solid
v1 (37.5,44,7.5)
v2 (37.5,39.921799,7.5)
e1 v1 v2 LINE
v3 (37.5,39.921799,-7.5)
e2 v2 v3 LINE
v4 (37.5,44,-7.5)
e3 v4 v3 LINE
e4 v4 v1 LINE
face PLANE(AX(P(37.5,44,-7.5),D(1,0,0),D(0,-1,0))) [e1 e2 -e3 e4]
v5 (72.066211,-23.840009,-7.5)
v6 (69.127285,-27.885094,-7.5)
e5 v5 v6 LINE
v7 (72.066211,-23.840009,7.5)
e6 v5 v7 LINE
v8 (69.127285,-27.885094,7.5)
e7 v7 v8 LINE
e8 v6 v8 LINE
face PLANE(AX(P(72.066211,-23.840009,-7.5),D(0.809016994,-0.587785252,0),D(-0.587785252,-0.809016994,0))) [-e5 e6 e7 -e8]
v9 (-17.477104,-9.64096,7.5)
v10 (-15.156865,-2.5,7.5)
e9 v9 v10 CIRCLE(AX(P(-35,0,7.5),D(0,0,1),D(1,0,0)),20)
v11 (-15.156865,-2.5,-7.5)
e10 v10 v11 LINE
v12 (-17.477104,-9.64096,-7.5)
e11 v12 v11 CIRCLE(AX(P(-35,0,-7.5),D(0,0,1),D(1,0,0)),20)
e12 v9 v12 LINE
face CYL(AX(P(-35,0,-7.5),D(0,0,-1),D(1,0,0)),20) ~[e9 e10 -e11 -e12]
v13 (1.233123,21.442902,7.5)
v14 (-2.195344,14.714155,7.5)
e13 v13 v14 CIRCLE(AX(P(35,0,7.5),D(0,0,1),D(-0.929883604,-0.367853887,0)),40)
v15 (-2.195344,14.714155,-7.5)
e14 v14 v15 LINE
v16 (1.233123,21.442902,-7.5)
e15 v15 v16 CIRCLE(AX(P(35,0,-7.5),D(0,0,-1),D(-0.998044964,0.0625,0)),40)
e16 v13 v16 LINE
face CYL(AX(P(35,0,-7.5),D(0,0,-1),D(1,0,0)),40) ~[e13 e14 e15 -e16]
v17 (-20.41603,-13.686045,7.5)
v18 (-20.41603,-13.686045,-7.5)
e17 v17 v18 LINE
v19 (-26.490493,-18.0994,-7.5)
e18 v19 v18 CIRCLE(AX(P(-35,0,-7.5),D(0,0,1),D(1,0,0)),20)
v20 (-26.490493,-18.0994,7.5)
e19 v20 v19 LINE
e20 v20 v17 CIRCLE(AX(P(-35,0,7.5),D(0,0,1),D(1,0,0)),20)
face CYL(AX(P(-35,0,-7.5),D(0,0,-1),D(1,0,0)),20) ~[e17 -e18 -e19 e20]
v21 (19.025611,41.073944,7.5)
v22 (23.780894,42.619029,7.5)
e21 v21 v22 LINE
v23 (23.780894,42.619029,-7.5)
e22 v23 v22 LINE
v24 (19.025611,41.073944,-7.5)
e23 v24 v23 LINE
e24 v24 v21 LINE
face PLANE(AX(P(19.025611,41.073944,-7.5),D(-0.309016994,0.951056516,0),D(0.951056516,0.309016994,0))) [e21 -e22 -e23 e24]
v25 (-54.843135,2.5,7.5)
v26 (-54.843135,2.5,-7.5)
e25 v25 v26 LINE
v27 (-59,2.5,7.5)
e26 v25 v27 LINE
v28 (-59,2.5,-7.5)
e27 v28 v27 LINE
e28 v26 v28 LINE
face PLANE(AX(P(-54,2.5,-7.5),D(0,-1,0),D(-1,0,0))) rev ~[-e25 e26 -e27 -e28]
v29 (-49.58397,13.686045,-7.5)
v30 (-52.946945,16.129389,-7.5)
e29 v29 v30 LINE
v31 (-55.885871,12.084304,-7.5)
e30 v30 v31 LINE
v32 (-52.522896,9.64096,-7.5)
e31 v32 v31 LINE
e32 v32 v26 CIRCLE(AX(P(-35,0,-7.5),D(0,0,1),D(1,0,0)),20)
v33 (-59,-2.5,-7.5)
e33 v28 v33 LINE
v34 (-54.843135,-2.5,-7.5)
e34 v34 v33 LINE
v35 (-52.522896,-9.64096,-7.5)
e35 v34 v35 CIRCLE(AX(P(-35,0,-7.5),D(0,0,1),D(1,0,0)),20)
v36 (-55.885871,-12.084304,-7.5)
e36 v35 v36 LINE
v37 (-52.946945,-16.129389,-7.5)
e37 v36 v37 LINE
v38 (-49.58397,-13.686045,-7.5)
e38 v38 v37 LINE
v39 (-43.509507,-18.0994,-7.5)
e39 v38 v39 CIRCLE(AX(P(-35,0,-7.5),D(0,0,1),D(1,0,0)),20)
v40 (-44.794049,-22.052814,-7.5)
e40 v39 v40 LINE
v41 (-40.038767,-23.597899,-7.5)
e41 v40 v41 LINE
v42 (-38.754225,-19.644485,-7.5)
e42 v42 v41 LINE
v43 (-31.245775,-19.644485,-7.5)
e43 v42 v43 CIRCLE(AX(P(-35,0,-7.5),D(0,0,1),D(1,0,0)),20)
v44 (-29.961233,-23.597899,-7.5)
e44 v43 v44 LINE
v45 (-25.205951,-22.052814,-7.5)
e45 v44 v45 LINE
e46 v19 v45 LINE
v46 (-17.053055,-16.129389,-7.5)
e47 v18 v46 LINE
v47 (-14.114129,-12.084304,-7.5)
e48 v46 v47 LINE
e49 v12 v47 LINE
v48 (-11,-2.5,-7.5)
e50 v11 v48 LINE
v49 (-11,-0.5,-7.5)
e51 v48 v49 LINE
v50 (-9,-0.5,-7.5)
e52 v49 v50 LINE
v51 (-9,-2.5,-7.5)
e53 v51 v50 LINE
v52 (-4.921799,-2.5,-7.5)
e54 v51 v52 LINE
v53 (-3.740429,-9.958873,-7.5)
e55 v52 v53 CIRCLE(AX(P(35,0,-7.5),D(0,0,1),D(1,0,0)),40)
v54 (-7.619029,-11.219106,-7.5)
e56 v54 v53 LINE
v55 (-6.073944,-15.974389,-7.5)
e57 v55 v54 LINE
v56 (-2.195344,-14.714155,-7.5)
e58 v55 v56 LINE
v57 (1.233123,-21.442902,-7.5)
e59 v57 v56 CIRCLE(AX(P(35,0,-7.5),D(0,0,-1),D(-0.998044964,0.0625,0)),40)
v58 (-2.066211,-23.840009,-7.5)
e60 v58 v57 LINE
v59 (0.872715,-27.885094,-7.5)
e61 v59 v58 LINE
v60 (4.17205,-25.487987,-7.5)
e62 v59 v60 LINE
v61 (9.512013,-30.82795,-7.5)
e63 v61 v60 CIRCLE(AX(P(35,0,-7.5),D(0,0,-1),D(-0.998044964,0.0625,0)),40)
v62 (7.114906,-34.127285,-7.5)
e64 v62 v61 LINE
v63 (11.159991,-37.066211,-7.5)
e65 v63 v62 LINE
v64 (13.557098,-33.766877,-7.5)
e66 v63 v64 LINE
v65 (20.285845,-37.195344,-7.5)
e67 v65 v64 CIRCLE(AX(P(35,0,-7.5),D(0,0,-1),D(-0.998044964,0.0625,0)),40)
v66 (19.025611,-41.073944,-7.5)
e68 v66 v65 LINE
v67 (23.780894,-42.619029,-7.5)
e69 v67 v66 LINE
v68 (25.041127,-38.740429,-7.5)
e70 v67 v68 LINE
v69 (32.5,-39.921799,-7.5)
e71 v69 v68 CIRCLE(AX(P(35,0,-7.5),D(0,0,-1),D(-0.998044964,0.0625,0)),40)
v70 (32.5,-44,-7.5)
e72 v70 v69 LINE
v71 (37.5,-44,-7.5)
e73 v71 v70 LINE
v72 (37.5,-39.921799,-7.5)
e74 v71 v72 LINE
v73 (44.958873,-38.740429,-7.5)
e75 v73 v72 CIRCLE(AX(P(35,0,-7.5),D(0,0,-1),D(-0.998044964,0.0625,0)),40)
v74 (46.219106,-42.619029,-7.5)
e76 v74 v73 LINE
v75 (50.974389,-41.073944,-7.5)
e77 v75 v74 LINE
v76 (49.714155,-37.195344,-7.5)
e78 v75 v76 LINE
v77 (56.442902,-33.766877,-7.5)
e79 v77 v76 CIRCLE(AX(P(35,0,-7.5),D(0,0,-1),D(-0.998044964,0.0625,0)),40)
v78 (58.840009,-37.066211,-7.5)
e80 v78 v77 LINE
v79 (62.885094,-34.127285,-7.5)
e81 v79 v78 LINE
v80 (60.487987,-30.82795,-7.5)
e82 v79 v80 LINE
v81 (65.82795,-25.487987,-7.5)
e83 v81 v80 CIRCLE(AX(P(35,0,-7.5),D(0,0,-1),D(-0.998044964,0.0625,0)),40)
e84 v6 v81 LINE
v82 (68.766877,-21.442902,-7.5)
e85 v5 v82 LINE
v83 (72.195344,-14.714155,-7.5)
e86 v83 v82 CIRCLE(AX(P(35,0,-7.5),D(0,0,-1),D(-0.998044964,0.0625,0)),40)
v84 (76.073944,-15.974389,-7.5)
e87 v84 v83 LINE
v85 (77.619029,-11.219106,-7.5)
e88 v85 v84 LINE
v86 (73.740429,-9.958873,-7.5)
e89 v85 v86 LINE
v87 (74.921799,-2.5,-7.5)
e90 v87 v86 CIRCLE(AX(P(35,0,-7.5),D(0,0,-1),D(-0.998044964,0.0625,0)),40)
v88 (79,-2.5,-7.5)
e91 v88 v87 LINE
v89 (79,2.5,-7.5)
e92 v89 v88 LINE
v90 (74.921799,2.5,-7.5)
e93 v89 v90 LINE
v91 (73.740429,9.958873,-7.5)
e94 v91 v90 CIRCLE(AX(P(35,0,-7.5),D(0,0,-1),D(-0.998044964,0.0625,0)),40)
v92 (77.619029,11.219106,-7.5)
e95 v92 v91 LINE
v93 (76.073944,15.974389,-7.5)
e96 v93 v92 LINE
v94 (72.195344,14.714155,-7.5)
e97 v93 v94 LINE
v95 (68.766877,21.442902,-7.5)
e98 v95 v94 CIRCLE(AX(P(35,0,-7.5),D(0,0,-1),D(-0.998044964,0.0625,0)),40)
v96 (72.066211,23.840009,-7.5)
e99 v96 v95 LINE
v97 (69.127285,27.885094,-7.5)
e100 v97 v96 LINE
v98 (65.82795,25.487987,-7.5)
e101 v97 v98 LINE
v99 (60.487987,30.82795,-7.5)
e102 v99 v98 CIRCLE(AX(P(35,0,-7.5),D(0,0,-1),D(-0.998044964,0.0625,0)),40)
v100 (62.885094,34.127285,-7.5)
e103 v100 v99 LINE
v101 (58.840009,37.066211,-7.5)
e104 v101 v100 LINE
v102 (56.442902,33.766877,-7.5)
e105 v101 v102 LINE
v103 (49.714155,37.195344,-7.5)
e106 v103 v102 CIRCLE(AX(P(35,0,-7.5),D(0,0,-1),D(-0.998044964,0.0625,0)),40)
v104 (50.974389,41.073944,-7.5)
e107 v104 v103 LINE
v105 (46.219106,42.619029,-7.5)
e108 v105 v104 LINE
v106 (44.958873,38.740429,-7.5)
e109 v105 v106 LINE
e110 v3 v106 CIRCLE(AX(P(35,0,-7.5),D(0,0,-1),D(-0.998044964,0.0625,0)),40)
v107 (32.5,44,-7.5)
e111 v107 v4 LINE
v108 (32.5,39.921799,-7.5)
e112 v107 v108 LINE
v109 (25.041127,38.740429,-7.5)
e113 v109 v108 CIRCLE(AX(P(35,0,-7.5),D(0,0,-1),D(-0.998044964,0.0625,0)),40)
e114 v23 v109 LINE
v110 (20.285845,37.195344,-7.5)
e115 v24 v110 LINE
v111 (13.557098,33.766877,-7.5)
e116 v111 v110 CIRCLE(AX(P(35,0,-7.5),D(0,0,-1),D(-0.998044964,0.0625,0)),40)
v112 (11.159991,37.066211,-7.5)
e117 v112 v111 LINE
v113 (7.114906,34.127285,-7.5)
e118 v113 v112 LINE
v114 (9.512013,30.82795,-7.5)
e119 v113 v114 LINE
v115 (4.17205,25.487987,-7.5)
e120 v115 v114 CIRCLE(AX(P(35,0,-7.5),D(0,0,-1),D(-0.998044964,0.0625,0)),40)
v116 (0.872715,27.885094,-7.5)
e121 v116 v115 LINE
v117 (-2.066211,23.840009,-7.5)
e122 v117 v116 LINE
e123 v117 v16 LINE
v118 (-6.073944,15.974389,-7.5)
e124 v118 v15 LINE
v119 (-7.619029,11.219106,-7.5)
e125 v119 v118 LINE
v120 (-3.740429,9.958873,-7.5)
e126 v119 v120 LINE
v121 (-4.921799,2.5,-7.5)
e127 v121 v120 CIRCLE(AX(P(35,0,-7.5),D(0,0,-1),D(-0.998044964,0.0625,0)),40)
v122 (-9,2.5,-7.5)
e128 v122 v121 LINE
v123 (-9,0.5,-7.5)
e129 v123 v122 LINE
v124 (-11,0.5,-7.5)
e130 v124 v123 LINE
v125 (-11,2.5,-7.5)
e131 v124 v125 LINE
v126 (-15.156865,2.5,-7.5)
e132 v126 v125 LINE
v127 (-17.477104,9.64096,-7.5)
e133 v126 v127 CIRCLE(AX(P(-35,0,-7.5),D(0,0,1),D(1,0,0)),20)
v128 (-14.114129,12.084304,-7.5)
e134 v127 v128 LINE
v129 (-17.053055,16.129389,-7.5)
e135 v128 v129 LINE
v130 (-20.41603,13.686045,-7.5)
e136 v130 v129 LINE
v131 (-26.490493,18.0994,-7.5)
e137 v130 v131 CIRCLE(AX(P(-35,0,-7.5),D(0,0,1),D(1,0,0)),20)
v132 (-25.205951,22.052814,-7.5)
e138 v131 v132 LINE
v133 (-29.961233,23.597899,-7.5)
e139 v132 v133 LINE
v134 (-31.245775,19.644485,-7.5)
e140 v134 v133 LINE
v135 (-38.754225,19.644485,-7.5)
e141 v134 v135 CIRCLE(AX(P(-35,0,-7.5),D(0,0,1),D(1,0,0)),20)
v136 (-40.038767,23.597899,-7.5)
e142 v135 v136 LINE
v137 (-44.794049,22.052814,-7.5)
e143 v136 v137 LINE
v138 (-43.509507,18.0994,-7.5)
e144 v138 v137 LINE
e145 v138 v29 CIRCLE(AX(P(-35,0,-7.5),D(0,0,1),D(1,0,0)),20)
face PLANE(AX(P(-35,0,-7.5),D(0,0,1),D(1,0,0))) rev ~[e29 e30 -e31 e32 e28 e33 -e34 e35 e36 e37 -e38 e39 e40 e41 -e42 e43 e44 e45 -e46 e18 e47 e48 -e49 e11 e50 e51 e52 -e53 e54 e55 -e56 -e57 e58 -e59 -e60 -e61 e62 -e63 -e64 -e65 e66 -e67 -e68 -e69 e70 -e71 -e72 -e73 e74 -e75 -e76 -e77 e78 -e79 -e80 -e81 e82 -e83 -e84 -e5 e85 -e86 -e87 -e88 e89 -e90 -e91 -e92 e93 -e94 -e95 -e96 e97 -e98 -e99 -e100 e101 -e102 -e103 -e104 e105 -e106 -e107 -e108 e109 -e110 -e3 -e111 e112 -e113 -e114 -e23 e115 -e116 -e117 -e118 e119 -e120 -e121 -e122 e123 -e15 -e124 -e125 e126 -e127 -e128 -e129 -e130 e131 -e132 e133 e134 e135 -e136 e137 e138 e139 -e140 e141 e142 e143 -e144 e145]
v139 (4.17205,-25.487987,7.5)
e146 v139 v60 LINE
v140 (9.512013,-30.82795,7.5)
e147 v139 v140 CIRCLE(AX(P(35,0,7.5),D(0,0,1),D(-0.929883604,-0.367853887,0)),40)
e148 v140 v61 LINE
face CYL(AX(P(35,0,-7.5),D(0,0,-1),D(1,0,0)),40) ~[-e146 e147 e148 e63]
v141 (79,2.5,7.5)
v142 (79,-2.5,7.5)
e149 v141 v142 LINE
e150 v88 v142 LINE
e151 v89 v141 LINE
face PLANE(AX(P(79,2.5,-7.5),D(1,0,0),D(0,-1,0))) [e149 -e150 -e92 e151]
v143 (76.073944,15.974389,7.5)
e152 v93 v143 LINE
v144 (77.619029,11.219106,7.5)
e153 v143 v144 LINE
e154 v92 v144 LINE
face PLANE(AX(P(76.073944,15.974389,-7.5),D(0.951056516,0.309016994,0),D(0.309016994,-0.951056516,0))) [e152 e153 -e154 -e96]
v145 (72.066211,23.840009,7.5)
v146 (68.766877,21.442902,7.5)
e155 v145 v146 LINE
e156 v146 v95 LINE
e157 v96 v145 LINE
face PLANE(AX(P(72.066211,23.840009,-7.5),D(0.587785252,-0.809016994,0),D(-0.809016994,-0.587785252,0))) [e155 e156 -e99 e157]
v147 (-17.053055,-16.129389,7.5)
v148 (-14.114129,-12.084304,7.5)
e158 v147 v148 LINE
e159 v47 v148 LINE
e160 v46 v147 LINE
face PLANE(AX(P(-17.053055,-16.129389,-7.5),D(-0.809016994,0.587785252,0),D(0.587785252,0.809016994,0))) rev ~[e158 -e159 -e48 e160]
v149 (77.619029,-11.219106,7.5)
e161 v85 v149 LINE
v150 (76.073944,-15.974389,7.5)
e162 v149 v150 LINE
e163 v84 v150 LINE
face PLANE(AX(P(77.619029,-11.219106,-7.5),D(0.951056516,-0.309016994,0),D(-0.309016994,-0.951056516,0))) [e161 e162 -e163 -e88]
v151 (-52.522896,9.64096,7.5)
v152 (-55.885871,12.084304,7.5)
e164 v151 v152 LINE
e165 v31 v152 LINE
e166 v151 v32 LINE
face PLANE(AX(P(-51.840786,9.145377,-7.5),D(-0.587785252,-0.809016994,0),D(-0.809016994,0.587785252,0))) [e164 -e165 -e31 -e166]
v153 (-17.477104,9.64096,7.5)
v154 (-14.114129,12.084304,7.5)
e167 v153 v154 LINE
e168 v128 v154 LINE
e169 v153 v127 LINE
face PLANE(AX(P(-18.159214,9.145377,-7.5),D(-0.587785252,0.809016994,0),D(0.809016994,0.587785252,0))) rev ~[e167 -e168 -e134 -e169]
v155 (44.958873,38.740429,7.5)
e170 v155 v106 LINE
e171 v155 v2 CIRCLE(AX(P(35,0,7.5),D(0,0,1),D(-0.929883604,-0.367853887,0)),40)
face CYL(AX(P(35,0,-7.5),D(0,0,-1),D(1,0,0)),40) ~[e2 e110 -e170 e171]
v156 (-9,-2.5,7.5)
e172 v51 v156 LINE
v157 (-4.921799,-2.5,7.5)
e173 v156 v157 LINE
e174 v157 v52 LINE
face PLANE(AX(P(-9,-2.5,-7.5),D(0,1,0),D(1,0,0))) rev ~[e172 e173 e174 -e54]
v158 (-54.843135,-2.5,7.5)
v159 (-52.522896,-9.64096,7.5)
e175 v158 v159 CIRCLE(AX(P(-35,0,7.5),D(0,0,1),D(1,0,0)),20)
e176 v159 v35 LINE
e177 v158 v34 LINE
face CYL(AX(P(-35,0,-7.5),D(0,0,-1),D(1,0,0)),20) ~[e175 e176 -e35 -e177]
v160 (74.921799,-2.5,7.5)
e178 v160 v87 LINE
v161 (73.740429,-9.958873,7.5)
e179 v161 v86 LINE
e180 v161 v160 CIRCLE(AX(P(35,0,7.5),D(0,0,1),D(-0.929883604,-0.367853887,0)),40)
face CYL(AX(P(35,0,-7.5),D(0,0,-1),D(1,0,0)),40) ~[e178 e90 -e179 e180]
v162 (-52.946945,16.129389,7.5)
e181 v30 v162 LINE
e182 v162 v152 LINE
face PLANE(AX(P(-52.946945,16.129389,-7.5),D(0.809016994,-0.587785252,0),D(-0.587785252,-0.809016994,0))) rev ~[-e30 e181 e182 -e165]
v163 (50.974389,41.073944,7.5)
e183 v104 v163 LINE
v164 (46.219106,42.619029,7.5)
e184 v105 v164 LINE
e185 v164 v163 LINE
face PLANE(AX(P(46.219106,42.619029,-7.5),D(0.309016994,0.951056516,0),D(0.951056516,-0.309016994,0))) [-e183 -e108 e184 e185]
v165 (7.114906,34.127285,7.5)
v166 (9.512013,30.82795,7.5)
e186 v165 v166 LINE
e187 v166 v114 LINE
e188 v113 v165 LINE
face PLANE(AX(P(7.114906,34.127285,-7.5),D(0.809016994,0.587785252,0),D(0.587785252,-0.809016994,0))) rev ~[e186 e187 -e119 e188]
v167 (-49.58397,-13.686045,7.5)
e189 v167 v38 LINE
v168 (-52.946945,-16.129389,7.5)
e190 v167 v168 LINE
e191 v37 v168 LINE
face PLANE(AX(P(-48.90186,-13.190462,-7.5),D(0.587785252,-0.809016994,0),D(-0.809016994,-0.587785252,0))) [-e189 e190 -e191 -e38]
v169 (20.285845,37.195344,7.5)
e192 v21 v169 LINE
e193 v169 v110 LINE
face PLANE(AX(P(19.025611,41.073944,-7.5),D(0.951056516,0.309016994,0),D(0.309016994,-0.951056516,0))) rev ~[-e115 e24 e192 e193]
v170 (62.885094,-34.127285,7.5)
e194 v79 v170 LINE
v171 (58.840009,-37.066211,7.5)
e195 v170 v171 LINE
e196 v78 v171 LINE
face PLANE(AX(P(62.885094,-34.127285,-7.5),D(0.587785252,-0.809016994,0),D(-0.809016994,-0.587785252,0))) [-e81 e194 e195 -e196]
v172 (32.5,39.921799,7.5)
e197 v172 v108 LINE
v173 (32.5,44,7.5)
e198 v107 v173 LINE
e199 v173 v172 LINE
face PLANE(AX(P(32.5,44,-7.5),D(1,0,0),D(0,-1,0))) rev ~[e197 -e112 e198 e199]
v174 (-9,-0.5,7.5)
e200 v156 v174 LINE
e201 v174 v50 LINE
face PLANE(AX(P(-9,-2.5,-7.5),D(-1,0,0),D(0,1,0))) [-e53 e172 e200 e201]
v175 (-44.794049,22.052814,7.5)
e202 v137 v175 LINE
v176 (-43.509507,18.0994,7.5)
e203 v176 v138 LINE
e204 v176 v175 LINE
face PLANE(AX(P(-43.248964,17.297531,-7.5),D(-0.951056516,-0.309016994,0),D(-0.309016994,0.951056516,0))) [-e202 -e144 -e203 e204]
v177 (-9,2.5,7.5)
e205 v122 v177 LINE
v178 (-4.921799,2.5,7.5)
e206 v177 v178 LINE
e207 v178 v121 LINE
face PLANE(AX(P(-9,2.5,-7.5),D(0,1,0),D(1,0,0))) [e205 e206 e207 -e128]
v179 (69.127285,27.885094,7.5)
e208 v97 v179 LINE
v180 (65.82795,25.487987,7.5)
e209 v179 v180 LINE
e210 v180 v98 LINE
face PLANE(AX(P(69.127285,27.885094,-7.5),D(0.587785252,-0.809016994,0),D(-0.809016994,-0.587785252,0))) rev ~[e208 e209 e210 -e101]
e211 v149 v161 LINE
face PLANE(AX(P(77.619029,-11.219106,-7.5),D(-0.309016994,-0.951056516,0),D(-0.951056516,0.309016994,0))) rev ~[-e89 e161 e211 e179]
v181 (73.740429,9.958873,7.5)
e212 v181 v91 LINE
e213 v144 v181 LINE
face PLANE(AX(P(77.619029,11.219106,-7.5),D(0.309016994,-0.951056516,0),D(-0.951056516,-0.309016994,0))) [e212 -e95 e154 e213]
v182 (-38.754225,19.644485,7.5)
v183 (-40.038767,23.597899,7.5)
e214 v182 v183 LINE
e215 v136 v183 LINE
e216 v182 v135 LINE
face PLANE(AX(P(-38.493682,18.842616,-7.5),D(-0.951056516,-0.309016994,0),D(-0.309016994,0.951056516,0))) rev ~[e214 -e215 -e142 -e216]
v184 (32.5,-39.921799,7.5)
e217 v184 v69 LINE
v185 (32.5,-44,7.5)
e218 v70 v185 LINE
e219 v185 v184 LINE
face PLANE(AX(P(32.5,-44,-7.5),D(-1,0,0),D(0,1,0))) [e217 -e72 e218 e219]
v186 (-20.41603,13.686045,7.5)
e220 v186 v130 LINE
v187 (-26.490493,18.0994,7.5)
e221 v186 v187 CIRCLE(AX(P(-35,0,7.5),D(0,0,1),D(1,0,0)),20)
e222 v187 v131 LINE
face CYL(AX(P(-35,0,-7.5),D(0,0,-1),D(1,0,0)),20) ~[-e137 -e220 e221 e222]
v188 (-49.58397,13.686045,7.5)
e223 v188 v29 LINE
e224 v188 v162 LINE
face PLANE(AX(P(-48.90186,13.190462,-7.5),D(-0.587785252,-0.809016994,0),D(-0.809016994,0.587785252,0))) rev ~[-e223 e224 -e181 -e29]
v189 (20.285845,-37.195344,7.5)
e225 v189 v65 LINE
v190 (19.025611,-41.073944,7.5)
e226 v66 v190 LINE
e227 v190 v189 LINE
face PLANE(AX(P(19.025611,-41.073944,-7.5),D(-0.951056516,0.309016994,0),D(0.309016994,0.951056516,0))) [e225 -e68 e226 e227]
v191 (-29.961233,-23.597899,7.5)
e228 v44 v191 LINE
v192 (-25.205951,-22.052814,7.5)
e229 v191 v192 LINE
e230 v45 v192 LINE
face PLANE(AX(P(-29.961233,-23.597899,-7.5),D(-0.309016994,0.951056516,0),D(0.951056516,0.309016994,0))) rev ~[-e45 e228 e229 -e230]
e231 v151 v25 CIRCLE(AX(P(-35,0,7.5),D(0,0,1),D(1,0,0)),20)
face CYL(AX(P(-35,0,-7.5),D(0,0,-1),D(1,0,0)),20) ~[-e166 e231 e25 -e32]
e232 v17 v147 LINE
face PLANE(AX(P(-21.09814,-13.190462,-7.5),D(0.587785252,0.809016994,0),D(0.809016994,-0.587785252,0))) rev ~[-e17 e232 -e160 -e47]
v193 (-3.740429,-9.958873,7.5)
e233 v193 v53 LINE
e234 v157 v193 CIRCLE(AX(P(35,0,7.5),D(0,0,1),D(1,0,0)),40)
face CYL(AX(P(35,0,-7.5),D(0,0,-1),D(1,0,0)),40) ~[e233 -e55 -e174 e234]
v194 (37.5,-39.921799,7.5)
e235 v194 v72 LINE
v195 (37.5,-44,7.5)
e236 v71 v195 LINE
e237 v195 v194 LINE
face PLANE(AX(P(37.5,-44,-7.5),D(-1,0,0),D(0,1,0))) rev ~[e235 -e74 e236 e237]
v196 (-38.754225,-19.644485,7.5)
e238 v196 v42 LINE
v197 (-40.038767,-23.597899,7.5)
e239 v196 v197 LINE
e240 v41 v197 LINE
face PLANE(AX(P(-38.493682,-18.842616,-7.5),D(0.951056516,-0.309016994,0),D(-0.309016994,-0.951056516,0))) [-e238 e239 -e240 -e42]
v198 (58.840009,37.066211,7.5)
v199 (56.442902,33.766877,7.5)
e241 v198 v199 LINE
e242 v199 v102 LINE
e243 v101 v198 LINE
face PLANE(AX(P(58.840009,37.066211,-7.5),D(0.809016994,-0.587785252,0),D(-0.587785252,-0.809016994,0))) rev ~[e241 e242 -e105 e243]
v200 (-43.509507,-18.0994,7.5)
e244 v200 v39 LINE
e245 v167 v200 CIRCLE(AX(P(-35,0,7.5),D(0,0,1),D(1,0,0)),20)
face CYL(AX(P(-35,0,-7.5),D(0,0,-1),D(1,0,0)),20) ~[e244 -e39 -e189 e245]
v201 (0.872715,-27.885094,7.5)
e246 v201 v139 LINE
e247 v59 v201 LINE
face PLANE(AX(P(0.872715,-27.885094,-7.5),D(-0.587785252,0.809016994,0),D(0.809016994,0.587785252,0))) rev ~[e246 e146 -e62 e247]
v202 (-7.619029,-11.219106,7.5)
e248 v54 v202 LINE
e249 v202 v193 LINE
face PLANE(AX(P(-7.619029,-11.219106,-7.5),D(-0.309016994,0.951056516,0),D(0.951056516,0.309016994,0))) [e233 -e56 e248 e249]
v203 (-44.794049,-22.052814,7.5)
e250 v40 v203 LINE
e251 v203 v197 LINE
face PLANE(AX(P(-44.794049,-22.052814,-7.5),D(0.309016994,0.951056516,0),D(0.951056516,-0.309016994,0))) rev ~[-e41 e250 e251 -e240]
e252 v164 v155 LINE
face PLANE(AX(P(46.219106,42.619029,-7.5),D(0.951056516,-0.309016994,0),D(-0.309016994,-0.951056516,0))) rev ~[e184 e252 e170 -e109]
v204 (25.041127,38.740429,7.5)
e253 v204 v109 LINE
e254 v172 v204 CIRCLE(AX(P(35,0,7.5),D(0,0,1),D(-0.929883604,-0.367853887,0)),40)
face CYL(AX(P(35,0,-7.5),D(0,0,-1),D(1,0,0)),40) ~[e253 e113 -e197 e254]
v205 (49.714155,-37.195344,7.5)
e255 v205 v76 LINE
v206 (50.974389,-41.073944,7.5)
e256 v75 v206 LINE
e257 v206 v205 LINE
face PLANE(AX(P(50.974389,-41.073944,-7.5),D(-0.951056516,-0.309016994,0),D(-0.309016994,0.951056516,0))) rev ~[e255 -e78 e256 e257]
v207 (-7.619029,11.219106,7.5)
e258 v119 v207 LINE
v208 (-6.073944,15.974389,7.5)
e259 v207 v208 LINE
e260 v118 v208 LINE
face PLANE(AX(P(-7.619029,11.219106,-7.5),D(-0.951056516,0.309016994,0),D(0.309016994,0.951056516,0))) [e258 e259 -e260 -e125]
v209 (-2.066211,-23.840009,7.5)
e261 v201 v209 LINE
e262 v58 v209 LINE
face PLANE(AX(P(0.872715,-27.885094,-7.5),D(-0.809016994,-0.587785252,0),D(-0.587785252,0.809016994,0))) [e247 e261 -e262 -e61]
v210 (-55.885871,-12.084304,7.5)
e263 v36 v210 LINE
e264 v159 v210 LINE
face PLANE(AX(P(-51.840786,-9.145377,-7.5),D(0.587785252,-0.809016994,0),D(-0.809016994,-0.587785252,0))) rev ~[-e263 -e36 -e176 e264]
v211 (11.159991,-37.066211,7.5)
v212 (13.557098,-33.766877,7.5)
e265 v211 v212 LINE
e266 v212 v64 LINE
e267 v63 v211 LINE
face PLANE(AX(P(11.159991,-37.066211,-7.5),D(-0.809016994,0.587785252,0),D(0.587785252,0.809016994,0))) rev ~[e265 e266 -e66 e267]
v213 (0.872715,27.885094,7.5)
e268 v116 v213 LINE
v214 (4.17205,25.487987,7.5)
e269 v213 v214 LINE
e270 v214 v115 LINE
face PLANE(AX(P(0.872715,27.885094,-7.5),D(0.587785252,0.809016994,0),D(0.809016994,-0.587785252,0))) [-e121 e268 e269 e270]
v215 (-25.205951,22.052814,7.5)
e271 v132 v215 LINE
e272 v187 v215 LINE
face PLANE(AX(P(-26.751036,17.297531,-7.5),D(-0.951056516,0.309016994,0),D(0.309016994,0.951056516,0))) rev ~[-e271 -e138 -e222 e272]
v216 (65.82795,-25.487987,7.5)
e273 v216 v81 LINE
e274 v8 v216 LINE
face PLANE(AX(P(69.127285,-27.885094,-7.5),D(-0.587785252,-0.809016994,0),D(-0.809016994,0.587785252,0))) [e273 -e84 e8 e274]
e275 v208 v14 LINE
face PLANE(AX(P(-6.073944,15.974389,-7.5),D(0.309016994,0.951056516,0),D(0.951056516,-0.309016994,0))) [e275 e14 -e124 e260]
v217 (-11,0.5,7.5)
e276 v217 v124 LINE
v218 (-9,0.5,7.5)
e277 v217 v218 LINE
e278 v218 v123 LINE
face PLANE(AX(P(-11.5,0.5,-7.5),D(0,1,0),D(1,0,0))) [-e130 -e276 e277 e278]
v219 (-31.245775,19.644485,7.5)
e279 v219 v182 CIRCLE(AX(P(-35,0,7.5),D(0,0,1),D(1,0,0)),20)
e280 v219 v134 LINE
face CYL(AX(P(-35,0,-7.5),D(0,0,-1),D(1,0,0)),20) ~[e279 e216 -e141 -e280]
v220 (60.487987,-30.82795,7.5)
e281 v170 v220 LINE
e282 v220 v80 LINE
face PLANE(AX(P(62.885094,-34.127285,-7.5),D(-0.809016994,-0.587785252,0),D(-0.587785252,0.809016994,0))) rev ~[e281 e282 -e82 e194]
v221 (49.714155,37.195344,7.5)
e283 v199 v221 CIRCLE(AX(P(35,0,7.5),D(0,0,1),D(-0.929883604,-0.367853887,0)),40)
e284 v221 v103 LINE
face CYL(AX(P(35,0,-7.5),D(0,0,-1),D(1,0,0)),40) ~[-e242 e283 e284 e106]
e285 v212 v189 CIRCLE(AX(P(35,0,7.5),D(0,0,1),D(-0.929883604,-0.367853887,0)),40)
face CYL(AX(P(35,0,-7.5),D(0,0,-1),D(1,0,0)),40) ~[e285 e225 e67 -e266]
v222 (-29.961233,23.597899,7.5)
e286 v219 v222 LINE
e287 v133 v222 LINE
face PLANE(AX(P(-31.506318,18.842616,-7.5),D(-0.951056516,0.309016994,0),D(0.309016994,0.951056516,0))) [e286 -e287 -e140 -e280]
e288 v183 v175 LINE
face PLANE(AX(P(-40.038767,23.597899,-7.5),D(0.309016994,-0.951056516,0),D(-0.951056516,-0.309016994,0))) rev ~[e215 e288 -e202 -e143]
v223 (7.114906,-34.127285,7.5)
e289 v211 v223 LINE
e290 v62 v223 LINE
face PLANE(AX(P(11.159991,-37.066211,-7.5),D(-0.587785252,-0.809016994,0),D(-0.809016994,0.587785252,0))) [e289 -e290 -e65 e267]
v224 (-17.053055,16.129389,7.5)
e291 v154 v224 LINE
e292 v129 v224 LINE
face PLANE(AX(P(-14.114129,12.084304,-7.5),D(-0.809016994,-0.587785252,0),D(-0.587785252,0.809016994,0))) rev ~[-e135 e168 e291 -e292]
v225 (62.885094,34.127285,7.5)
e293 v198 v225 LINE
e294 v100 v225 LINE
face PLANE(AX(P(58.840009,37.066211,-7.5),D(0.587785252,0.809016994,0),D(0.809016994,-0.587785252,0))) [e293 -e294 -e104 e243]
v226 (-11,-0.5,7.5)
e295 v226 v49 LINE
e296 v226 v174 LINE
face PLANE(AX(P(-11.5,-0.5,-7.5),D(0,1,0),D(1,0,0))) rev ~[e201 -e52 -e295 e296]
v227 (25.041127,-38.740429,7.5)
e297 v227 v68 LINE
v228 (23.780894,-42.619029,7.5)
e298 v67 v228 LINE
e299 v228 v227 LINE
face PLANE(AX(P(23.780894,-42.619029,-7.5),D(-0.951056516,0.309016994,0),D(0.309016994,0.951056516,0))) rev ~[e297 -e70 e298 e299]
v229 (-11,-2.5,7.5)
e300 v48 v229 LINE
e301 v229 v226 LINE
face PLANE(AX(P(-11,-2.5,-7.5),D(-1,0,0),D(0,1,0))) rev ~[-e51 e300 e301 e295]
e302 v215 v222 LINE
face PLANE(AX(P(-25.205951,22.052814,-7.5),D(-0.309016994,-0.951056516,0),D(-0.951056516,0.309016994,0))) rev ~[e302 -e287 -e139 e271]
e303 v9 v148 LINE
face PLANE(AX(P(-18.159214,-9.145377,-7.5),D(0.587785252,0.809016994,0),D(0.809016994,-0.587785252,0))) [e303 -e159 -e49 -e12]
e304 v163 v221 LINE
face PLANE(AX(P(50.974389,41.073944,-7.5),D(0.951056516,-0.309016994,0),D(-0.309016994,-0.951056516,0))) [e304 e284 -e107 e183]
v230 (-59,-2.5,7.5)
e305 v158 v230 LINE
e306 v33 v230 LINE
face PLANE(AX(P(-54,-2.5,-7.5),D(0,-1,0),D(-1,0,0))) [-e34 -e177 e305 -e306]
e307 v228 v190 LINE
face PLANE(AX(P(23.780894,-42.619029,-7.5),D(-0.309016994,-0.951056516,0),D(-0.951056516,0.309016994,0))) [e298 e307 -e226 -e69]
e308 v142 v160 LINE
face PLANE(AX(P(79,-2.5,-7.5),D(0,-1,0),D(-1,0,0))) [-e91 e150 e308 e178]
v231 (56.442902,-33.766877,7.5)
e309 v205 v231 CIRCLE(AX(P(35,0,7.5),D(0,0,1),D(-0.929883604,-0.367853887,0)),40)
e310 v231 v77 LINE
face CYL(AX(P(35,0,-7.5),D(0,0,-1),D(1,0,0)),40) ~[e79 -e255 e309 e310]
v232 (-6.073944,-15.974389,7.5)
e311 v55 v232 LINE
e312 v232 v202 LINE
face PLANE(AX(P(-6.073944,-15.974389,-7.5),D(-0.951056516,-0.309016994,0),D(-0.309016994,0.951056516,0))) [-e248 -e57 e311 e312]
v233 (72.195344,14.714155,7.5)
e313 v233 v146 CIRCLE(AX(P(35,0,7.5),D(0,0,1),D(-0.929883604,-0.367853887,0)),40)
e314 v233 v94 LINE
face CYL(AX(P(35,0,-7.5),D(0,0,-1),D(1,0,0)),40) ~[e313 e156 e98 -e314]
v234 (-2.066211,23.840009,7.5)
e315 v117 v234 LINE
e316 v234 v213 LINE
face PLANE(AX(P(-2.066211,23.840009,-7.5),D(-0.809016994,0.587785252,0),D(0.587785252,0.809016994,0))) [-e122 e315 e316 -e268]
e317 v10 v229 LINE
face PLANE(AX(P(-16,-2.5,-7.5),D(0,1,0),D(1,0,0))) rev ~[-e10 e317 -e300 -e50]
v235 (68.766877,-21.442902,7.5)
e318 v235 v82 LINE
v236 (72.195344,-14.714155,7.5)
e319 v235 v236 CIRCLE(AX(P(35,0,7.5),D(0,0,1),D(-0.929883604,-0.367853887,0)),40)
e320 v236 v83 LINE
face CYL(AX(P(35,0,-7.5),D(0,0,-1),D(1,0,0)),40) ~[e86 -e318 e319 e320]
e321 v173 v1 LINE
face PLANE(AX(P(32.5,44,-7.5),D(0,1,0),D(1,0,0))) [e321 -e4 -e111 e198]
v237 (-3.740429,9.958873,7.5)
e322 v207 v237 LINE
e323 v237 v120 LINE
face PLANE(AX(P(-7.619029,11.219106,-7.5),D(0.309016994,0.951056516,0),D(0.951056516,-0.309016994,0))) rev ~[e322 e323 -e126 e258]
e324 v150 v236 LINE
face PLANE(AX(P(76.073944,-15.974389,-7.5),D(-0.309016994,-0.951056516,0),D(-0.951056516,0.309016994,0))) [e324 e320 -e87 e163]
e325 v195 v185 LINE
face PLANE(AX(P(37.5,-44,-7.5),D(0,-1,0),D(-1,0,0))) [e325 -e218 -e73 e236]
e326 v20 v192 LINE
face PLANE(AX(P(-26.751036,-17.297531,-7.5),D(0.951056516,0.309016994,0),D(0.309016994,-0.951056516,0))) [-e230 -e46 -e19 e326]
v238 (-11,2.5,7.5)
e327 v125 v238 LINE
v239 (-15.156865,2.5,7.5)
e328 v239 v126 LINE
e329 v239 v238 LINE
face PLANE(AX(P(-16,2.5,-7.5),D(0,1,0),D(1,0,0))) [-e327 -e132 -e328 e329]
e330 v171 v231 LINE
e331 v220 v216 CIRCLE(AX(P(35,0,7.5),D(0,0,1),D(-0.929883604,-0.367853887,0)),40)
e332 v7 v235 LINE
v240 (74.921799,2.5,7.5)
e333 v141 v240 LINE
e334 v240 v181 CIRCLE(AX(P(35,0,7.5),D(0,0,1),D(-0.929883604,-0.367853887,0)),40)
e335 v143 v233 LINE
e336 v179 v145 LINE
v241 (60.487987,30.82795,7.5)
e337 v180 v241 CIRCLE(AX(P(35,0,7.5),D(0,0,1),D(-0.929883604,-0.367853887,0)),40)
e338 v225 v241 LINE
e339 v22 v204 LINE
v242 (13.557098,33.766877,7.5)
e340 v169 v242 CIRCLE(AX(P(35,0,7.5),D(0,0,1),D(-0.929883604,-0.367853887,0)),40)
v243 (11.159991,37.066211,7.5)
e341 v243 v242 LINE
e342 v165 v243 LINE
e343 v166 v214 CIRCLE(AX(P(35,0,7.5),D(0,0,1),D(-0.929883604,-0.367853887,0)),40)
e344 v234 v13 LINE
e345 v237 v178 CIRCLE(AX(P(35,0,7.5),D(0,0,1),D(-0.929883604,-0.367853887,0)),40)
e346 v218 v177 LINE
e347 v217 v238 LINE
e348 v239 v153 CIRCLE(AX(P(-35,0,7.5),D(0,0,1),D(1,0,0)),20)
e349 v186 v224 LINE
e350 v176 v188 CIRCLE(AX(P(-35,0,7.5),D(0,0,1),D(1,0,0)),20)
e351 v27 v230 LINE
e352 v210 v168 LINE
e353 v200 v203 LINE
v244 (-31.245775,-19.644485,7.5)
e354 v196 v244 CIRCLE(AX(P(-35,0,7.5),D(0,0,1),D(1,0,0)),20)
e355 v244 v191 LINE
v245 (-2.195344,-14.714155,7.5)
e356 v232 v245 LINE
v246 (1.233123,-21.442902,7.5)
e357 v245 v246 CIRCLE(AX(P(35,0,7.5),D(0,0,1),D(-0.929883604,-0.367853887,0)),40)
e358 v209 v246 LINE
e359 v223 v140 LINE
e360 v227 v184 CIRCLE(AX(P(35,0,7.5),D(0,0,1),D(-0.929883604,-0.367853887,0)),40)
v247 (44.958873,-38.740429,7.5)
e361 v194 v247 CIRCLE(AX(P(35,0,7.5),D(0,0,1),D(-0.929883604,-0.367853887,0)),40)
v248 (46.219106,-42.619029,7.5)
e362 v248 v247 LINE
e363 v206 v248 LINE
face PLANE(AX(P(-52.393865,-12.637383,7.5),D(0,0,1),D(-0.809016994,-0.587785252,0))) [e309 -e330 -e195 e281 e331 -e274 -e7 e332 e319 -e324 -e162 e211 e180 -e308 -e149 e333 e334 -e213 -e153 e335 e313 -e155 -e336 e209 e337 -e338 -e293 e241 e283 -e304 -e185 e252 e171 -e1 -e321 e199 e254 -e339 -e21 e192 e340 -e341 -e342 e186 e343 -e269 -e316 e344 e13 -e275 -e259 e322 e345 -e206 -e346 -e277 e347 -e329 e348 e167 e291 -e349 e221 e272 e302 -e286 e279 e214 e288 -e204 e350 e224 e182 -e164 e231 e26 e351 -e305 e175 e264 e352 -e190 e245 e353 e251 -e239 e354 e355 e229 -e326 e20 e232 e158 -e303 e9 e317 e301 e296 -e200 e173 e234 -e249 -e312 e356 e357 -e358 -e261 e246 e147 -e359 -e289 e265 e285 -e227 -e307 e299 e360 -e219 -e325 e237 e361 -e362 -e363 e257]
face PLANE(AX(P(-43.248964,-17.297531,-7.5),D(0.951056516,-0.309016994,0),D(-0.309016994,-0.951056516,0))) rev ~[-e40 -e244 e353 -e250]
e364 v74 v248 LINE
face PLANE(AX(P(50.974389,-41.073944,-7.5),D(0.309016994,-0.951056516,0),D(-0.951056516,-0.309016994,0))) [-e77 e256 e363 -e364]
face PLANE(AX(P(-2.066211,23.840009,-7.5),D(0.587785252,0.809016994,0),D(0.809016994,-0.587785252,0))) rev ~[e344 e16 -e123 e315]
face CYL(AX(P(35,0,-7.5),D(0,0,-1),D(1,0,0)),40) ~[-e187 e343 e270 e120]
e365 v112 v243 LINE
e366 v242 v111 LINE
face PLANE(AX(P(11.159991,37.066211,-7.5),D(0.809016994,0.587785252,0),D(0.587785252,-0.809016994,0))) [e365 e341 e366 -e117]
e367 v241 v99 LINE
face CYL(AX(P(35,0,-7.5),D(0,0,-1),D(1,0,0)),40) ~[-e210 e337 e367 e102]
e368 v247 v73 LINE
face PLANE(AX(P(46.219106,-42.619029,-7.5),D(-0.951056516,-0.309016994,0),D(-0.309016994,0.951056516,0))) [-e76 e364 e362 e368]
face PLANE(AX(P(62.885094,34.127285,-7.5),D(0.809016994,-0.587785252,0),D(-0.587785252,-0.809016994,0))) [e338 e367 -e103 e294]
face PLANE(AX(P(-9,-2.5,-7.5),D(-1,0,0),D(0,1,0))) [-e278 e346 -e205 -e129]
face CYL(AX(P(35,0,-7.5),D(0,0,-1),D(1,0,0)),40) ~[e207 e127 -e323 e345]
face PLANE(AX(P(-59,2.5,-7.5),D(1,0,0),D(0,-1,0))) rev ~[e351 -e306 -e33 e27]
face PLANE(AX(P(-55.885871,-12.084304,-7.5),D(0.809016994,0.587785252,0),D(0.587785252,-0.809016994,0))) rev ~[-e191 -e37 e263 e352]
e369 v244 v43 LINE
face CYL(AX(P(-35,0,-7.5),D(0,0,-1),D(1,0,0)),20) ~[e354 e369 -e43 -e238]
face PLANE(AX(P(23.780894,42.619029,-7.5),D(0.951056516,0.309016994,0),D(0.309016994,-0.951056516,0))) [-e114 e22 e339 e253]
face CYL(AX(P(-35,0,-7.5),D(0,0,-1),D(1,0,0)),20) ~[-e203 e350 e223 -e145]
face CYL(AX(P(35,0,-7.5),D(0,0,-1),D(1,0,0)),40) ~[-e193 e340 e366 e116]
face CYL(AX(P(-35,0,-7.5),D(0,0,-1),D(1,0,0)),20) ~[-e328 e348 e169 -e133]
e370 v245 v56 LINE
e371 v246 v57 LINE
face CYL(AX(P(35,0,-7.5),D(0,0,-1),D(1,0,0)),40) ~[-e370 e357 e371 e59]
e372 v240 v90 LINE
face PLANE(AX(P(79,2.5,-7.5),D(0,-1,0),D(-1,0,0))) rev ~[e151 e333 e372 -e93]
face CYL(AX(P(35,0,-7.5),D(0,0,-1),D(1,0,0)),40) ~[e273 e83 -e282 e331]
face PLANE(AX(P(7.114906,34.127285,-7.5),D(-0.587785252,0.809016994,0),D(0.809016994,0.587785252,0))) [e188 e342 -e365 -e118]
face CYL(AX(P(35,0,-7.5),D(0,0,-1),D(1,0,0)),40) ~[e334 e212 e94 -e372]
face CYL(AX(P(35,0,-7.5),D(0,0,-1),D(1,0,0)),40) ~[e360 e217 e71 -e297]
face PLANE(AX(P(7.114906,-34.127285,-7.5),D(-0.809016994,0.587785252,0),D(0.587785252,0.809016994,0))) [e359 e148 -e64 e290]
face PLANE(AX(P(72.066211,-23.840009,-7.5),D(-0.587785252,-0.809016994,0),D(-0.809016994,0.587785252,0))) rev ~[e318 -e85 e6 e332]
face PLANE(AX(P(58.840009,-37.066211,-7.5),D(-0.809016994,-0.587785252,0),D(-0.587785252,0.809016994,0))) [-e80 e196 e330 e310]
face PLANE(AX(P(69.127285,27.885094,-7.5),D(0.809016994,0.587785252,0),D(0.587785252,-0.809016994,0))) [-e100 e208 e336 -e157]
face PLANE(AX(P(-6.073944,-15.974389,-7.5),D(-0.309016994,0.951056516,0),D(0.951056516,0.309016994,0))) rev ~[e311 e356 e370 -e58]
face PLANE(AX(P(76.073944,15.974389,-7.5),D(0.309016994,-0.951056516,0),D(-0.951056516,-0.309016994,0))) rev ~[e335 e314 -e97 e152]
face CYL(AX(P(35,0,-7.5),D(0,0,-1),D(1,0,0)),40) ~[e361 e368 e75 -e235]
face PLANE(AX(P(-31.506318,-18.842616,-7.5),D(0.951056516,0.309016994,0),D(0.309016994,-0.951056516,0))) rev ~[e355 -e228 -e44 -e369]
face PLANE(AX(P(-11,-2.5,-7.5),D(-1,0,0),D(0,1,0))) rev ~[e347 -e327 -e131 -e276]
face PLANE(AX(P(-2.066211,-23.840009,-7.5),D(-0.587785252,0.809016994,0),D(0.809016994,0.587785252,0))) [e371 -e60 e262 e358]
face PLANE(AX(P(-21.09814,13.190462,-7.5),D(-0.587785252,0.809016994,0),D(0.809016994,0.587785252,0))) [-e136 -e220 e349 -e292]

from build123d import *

# Parameters (mm, degrees)
SKETCH_2_R               = 20
EXTRUDE_2_DEPTH          = 15
SKETCH_7_R               = 40
EXTRUDE_4_DEPTH          = 15
SKETCH_9_W               = 5
SKETCH_9_H               = 5
EXTRUDE_6_DEPTH          = 15
PATTERN_CIRCULAR_1_COUNT = 10
SKETCH_17_W              = 5
SKETCH_17_H              = 5
EXTRUDE_9_DEPTH          = 15
PATTERN_CIRCULAR_3_COUNT = 20
SKETCH_18_W              = 3
SKETCH_18_H              = 1
EXTRUDE_10_DEPTH         = 15


with BuildPart() as part:
    # 草图2 → 凸台-拉伸2 (new body)
    with BuildSketch(Plane.XY.offset(-7.5)):
        with Locations((-35, 0)):
            Circle(SKETCH_2_R)
    extrude(amount=EXTRUDE_2_DEPTH)

    # 草图9 → 凸台-拉伸6 (add)
    with BuildSketch(Plane.XY.offset(-7.5)):
        with Locations((-13.5, 0)):
            Rectangle(SKETCH_9_W, SKETCH_9_H)
    extrude_6 = extrude(amount=EXTRUDE_6_DEPTH)

    # 阵列(圆周)1: 凸台-拉伸6 ×10 about axis
    pattern_circular_1_axis = Axis((-35, 0, 8.25), (0, 0, -1))
    for i in range(1, PATTERN_CIRCULAR_1_COUNT):
        add(extrude_6.rotate(pattern_circular_1_axis, i * 360 / PATTERN_CIRCULAR_1_COUNT))



with BuildPart() as body_2:
    # 草图7 → 凸台-拉伸4 (new body)
    with BuildSketch(Plane.XY.offset(-7.5)):
        with Locations((35, 0)):
            Circle(SKETCH_7_R)
    extrude(amount=EXTRUDE_4_DEPTH)

    # 草图17 → 凸台-拉伸9 (add)
    with BuildSketch(Plane.XY.offset(-7.5)):
        with Locations((-6.5, 0)):
            Rectangle(SKETCH_17_W, SKETCH_17_H)
    extrude_9 = extrude(amount=EXTRUDE_9_DEPTH)

    # 阵列(圆周)3: 凸台-拉伸9 ×20 about axis
    pattern_circular_3_axis = Axis((35, 0, 8.25), (0, 0, -1))
    for i in range(1, PATTERN_CIRCULAR_3_COUNT):
        add(extrude_9.rotate(pattern_circular_3_axis, i * 360 / PATTERN_CIRCULAR_3_COUNT))


with BuildPart() as part_1:
    add(part.part)

    add(body_2.part)  # 凸台-拉伸10 merges body 2
    # 草图18 → 凸台-拉伸10 (add)
    with BuildSketch(Plane.XY.offset(-7.5)):
        with Locations((-10, 0)):
            Rectangle(SKETCH_18_W, SKETCH_18_H)
    extrude(amount=EXTRUDE_10_DEPTH)


solid = part_1.part
